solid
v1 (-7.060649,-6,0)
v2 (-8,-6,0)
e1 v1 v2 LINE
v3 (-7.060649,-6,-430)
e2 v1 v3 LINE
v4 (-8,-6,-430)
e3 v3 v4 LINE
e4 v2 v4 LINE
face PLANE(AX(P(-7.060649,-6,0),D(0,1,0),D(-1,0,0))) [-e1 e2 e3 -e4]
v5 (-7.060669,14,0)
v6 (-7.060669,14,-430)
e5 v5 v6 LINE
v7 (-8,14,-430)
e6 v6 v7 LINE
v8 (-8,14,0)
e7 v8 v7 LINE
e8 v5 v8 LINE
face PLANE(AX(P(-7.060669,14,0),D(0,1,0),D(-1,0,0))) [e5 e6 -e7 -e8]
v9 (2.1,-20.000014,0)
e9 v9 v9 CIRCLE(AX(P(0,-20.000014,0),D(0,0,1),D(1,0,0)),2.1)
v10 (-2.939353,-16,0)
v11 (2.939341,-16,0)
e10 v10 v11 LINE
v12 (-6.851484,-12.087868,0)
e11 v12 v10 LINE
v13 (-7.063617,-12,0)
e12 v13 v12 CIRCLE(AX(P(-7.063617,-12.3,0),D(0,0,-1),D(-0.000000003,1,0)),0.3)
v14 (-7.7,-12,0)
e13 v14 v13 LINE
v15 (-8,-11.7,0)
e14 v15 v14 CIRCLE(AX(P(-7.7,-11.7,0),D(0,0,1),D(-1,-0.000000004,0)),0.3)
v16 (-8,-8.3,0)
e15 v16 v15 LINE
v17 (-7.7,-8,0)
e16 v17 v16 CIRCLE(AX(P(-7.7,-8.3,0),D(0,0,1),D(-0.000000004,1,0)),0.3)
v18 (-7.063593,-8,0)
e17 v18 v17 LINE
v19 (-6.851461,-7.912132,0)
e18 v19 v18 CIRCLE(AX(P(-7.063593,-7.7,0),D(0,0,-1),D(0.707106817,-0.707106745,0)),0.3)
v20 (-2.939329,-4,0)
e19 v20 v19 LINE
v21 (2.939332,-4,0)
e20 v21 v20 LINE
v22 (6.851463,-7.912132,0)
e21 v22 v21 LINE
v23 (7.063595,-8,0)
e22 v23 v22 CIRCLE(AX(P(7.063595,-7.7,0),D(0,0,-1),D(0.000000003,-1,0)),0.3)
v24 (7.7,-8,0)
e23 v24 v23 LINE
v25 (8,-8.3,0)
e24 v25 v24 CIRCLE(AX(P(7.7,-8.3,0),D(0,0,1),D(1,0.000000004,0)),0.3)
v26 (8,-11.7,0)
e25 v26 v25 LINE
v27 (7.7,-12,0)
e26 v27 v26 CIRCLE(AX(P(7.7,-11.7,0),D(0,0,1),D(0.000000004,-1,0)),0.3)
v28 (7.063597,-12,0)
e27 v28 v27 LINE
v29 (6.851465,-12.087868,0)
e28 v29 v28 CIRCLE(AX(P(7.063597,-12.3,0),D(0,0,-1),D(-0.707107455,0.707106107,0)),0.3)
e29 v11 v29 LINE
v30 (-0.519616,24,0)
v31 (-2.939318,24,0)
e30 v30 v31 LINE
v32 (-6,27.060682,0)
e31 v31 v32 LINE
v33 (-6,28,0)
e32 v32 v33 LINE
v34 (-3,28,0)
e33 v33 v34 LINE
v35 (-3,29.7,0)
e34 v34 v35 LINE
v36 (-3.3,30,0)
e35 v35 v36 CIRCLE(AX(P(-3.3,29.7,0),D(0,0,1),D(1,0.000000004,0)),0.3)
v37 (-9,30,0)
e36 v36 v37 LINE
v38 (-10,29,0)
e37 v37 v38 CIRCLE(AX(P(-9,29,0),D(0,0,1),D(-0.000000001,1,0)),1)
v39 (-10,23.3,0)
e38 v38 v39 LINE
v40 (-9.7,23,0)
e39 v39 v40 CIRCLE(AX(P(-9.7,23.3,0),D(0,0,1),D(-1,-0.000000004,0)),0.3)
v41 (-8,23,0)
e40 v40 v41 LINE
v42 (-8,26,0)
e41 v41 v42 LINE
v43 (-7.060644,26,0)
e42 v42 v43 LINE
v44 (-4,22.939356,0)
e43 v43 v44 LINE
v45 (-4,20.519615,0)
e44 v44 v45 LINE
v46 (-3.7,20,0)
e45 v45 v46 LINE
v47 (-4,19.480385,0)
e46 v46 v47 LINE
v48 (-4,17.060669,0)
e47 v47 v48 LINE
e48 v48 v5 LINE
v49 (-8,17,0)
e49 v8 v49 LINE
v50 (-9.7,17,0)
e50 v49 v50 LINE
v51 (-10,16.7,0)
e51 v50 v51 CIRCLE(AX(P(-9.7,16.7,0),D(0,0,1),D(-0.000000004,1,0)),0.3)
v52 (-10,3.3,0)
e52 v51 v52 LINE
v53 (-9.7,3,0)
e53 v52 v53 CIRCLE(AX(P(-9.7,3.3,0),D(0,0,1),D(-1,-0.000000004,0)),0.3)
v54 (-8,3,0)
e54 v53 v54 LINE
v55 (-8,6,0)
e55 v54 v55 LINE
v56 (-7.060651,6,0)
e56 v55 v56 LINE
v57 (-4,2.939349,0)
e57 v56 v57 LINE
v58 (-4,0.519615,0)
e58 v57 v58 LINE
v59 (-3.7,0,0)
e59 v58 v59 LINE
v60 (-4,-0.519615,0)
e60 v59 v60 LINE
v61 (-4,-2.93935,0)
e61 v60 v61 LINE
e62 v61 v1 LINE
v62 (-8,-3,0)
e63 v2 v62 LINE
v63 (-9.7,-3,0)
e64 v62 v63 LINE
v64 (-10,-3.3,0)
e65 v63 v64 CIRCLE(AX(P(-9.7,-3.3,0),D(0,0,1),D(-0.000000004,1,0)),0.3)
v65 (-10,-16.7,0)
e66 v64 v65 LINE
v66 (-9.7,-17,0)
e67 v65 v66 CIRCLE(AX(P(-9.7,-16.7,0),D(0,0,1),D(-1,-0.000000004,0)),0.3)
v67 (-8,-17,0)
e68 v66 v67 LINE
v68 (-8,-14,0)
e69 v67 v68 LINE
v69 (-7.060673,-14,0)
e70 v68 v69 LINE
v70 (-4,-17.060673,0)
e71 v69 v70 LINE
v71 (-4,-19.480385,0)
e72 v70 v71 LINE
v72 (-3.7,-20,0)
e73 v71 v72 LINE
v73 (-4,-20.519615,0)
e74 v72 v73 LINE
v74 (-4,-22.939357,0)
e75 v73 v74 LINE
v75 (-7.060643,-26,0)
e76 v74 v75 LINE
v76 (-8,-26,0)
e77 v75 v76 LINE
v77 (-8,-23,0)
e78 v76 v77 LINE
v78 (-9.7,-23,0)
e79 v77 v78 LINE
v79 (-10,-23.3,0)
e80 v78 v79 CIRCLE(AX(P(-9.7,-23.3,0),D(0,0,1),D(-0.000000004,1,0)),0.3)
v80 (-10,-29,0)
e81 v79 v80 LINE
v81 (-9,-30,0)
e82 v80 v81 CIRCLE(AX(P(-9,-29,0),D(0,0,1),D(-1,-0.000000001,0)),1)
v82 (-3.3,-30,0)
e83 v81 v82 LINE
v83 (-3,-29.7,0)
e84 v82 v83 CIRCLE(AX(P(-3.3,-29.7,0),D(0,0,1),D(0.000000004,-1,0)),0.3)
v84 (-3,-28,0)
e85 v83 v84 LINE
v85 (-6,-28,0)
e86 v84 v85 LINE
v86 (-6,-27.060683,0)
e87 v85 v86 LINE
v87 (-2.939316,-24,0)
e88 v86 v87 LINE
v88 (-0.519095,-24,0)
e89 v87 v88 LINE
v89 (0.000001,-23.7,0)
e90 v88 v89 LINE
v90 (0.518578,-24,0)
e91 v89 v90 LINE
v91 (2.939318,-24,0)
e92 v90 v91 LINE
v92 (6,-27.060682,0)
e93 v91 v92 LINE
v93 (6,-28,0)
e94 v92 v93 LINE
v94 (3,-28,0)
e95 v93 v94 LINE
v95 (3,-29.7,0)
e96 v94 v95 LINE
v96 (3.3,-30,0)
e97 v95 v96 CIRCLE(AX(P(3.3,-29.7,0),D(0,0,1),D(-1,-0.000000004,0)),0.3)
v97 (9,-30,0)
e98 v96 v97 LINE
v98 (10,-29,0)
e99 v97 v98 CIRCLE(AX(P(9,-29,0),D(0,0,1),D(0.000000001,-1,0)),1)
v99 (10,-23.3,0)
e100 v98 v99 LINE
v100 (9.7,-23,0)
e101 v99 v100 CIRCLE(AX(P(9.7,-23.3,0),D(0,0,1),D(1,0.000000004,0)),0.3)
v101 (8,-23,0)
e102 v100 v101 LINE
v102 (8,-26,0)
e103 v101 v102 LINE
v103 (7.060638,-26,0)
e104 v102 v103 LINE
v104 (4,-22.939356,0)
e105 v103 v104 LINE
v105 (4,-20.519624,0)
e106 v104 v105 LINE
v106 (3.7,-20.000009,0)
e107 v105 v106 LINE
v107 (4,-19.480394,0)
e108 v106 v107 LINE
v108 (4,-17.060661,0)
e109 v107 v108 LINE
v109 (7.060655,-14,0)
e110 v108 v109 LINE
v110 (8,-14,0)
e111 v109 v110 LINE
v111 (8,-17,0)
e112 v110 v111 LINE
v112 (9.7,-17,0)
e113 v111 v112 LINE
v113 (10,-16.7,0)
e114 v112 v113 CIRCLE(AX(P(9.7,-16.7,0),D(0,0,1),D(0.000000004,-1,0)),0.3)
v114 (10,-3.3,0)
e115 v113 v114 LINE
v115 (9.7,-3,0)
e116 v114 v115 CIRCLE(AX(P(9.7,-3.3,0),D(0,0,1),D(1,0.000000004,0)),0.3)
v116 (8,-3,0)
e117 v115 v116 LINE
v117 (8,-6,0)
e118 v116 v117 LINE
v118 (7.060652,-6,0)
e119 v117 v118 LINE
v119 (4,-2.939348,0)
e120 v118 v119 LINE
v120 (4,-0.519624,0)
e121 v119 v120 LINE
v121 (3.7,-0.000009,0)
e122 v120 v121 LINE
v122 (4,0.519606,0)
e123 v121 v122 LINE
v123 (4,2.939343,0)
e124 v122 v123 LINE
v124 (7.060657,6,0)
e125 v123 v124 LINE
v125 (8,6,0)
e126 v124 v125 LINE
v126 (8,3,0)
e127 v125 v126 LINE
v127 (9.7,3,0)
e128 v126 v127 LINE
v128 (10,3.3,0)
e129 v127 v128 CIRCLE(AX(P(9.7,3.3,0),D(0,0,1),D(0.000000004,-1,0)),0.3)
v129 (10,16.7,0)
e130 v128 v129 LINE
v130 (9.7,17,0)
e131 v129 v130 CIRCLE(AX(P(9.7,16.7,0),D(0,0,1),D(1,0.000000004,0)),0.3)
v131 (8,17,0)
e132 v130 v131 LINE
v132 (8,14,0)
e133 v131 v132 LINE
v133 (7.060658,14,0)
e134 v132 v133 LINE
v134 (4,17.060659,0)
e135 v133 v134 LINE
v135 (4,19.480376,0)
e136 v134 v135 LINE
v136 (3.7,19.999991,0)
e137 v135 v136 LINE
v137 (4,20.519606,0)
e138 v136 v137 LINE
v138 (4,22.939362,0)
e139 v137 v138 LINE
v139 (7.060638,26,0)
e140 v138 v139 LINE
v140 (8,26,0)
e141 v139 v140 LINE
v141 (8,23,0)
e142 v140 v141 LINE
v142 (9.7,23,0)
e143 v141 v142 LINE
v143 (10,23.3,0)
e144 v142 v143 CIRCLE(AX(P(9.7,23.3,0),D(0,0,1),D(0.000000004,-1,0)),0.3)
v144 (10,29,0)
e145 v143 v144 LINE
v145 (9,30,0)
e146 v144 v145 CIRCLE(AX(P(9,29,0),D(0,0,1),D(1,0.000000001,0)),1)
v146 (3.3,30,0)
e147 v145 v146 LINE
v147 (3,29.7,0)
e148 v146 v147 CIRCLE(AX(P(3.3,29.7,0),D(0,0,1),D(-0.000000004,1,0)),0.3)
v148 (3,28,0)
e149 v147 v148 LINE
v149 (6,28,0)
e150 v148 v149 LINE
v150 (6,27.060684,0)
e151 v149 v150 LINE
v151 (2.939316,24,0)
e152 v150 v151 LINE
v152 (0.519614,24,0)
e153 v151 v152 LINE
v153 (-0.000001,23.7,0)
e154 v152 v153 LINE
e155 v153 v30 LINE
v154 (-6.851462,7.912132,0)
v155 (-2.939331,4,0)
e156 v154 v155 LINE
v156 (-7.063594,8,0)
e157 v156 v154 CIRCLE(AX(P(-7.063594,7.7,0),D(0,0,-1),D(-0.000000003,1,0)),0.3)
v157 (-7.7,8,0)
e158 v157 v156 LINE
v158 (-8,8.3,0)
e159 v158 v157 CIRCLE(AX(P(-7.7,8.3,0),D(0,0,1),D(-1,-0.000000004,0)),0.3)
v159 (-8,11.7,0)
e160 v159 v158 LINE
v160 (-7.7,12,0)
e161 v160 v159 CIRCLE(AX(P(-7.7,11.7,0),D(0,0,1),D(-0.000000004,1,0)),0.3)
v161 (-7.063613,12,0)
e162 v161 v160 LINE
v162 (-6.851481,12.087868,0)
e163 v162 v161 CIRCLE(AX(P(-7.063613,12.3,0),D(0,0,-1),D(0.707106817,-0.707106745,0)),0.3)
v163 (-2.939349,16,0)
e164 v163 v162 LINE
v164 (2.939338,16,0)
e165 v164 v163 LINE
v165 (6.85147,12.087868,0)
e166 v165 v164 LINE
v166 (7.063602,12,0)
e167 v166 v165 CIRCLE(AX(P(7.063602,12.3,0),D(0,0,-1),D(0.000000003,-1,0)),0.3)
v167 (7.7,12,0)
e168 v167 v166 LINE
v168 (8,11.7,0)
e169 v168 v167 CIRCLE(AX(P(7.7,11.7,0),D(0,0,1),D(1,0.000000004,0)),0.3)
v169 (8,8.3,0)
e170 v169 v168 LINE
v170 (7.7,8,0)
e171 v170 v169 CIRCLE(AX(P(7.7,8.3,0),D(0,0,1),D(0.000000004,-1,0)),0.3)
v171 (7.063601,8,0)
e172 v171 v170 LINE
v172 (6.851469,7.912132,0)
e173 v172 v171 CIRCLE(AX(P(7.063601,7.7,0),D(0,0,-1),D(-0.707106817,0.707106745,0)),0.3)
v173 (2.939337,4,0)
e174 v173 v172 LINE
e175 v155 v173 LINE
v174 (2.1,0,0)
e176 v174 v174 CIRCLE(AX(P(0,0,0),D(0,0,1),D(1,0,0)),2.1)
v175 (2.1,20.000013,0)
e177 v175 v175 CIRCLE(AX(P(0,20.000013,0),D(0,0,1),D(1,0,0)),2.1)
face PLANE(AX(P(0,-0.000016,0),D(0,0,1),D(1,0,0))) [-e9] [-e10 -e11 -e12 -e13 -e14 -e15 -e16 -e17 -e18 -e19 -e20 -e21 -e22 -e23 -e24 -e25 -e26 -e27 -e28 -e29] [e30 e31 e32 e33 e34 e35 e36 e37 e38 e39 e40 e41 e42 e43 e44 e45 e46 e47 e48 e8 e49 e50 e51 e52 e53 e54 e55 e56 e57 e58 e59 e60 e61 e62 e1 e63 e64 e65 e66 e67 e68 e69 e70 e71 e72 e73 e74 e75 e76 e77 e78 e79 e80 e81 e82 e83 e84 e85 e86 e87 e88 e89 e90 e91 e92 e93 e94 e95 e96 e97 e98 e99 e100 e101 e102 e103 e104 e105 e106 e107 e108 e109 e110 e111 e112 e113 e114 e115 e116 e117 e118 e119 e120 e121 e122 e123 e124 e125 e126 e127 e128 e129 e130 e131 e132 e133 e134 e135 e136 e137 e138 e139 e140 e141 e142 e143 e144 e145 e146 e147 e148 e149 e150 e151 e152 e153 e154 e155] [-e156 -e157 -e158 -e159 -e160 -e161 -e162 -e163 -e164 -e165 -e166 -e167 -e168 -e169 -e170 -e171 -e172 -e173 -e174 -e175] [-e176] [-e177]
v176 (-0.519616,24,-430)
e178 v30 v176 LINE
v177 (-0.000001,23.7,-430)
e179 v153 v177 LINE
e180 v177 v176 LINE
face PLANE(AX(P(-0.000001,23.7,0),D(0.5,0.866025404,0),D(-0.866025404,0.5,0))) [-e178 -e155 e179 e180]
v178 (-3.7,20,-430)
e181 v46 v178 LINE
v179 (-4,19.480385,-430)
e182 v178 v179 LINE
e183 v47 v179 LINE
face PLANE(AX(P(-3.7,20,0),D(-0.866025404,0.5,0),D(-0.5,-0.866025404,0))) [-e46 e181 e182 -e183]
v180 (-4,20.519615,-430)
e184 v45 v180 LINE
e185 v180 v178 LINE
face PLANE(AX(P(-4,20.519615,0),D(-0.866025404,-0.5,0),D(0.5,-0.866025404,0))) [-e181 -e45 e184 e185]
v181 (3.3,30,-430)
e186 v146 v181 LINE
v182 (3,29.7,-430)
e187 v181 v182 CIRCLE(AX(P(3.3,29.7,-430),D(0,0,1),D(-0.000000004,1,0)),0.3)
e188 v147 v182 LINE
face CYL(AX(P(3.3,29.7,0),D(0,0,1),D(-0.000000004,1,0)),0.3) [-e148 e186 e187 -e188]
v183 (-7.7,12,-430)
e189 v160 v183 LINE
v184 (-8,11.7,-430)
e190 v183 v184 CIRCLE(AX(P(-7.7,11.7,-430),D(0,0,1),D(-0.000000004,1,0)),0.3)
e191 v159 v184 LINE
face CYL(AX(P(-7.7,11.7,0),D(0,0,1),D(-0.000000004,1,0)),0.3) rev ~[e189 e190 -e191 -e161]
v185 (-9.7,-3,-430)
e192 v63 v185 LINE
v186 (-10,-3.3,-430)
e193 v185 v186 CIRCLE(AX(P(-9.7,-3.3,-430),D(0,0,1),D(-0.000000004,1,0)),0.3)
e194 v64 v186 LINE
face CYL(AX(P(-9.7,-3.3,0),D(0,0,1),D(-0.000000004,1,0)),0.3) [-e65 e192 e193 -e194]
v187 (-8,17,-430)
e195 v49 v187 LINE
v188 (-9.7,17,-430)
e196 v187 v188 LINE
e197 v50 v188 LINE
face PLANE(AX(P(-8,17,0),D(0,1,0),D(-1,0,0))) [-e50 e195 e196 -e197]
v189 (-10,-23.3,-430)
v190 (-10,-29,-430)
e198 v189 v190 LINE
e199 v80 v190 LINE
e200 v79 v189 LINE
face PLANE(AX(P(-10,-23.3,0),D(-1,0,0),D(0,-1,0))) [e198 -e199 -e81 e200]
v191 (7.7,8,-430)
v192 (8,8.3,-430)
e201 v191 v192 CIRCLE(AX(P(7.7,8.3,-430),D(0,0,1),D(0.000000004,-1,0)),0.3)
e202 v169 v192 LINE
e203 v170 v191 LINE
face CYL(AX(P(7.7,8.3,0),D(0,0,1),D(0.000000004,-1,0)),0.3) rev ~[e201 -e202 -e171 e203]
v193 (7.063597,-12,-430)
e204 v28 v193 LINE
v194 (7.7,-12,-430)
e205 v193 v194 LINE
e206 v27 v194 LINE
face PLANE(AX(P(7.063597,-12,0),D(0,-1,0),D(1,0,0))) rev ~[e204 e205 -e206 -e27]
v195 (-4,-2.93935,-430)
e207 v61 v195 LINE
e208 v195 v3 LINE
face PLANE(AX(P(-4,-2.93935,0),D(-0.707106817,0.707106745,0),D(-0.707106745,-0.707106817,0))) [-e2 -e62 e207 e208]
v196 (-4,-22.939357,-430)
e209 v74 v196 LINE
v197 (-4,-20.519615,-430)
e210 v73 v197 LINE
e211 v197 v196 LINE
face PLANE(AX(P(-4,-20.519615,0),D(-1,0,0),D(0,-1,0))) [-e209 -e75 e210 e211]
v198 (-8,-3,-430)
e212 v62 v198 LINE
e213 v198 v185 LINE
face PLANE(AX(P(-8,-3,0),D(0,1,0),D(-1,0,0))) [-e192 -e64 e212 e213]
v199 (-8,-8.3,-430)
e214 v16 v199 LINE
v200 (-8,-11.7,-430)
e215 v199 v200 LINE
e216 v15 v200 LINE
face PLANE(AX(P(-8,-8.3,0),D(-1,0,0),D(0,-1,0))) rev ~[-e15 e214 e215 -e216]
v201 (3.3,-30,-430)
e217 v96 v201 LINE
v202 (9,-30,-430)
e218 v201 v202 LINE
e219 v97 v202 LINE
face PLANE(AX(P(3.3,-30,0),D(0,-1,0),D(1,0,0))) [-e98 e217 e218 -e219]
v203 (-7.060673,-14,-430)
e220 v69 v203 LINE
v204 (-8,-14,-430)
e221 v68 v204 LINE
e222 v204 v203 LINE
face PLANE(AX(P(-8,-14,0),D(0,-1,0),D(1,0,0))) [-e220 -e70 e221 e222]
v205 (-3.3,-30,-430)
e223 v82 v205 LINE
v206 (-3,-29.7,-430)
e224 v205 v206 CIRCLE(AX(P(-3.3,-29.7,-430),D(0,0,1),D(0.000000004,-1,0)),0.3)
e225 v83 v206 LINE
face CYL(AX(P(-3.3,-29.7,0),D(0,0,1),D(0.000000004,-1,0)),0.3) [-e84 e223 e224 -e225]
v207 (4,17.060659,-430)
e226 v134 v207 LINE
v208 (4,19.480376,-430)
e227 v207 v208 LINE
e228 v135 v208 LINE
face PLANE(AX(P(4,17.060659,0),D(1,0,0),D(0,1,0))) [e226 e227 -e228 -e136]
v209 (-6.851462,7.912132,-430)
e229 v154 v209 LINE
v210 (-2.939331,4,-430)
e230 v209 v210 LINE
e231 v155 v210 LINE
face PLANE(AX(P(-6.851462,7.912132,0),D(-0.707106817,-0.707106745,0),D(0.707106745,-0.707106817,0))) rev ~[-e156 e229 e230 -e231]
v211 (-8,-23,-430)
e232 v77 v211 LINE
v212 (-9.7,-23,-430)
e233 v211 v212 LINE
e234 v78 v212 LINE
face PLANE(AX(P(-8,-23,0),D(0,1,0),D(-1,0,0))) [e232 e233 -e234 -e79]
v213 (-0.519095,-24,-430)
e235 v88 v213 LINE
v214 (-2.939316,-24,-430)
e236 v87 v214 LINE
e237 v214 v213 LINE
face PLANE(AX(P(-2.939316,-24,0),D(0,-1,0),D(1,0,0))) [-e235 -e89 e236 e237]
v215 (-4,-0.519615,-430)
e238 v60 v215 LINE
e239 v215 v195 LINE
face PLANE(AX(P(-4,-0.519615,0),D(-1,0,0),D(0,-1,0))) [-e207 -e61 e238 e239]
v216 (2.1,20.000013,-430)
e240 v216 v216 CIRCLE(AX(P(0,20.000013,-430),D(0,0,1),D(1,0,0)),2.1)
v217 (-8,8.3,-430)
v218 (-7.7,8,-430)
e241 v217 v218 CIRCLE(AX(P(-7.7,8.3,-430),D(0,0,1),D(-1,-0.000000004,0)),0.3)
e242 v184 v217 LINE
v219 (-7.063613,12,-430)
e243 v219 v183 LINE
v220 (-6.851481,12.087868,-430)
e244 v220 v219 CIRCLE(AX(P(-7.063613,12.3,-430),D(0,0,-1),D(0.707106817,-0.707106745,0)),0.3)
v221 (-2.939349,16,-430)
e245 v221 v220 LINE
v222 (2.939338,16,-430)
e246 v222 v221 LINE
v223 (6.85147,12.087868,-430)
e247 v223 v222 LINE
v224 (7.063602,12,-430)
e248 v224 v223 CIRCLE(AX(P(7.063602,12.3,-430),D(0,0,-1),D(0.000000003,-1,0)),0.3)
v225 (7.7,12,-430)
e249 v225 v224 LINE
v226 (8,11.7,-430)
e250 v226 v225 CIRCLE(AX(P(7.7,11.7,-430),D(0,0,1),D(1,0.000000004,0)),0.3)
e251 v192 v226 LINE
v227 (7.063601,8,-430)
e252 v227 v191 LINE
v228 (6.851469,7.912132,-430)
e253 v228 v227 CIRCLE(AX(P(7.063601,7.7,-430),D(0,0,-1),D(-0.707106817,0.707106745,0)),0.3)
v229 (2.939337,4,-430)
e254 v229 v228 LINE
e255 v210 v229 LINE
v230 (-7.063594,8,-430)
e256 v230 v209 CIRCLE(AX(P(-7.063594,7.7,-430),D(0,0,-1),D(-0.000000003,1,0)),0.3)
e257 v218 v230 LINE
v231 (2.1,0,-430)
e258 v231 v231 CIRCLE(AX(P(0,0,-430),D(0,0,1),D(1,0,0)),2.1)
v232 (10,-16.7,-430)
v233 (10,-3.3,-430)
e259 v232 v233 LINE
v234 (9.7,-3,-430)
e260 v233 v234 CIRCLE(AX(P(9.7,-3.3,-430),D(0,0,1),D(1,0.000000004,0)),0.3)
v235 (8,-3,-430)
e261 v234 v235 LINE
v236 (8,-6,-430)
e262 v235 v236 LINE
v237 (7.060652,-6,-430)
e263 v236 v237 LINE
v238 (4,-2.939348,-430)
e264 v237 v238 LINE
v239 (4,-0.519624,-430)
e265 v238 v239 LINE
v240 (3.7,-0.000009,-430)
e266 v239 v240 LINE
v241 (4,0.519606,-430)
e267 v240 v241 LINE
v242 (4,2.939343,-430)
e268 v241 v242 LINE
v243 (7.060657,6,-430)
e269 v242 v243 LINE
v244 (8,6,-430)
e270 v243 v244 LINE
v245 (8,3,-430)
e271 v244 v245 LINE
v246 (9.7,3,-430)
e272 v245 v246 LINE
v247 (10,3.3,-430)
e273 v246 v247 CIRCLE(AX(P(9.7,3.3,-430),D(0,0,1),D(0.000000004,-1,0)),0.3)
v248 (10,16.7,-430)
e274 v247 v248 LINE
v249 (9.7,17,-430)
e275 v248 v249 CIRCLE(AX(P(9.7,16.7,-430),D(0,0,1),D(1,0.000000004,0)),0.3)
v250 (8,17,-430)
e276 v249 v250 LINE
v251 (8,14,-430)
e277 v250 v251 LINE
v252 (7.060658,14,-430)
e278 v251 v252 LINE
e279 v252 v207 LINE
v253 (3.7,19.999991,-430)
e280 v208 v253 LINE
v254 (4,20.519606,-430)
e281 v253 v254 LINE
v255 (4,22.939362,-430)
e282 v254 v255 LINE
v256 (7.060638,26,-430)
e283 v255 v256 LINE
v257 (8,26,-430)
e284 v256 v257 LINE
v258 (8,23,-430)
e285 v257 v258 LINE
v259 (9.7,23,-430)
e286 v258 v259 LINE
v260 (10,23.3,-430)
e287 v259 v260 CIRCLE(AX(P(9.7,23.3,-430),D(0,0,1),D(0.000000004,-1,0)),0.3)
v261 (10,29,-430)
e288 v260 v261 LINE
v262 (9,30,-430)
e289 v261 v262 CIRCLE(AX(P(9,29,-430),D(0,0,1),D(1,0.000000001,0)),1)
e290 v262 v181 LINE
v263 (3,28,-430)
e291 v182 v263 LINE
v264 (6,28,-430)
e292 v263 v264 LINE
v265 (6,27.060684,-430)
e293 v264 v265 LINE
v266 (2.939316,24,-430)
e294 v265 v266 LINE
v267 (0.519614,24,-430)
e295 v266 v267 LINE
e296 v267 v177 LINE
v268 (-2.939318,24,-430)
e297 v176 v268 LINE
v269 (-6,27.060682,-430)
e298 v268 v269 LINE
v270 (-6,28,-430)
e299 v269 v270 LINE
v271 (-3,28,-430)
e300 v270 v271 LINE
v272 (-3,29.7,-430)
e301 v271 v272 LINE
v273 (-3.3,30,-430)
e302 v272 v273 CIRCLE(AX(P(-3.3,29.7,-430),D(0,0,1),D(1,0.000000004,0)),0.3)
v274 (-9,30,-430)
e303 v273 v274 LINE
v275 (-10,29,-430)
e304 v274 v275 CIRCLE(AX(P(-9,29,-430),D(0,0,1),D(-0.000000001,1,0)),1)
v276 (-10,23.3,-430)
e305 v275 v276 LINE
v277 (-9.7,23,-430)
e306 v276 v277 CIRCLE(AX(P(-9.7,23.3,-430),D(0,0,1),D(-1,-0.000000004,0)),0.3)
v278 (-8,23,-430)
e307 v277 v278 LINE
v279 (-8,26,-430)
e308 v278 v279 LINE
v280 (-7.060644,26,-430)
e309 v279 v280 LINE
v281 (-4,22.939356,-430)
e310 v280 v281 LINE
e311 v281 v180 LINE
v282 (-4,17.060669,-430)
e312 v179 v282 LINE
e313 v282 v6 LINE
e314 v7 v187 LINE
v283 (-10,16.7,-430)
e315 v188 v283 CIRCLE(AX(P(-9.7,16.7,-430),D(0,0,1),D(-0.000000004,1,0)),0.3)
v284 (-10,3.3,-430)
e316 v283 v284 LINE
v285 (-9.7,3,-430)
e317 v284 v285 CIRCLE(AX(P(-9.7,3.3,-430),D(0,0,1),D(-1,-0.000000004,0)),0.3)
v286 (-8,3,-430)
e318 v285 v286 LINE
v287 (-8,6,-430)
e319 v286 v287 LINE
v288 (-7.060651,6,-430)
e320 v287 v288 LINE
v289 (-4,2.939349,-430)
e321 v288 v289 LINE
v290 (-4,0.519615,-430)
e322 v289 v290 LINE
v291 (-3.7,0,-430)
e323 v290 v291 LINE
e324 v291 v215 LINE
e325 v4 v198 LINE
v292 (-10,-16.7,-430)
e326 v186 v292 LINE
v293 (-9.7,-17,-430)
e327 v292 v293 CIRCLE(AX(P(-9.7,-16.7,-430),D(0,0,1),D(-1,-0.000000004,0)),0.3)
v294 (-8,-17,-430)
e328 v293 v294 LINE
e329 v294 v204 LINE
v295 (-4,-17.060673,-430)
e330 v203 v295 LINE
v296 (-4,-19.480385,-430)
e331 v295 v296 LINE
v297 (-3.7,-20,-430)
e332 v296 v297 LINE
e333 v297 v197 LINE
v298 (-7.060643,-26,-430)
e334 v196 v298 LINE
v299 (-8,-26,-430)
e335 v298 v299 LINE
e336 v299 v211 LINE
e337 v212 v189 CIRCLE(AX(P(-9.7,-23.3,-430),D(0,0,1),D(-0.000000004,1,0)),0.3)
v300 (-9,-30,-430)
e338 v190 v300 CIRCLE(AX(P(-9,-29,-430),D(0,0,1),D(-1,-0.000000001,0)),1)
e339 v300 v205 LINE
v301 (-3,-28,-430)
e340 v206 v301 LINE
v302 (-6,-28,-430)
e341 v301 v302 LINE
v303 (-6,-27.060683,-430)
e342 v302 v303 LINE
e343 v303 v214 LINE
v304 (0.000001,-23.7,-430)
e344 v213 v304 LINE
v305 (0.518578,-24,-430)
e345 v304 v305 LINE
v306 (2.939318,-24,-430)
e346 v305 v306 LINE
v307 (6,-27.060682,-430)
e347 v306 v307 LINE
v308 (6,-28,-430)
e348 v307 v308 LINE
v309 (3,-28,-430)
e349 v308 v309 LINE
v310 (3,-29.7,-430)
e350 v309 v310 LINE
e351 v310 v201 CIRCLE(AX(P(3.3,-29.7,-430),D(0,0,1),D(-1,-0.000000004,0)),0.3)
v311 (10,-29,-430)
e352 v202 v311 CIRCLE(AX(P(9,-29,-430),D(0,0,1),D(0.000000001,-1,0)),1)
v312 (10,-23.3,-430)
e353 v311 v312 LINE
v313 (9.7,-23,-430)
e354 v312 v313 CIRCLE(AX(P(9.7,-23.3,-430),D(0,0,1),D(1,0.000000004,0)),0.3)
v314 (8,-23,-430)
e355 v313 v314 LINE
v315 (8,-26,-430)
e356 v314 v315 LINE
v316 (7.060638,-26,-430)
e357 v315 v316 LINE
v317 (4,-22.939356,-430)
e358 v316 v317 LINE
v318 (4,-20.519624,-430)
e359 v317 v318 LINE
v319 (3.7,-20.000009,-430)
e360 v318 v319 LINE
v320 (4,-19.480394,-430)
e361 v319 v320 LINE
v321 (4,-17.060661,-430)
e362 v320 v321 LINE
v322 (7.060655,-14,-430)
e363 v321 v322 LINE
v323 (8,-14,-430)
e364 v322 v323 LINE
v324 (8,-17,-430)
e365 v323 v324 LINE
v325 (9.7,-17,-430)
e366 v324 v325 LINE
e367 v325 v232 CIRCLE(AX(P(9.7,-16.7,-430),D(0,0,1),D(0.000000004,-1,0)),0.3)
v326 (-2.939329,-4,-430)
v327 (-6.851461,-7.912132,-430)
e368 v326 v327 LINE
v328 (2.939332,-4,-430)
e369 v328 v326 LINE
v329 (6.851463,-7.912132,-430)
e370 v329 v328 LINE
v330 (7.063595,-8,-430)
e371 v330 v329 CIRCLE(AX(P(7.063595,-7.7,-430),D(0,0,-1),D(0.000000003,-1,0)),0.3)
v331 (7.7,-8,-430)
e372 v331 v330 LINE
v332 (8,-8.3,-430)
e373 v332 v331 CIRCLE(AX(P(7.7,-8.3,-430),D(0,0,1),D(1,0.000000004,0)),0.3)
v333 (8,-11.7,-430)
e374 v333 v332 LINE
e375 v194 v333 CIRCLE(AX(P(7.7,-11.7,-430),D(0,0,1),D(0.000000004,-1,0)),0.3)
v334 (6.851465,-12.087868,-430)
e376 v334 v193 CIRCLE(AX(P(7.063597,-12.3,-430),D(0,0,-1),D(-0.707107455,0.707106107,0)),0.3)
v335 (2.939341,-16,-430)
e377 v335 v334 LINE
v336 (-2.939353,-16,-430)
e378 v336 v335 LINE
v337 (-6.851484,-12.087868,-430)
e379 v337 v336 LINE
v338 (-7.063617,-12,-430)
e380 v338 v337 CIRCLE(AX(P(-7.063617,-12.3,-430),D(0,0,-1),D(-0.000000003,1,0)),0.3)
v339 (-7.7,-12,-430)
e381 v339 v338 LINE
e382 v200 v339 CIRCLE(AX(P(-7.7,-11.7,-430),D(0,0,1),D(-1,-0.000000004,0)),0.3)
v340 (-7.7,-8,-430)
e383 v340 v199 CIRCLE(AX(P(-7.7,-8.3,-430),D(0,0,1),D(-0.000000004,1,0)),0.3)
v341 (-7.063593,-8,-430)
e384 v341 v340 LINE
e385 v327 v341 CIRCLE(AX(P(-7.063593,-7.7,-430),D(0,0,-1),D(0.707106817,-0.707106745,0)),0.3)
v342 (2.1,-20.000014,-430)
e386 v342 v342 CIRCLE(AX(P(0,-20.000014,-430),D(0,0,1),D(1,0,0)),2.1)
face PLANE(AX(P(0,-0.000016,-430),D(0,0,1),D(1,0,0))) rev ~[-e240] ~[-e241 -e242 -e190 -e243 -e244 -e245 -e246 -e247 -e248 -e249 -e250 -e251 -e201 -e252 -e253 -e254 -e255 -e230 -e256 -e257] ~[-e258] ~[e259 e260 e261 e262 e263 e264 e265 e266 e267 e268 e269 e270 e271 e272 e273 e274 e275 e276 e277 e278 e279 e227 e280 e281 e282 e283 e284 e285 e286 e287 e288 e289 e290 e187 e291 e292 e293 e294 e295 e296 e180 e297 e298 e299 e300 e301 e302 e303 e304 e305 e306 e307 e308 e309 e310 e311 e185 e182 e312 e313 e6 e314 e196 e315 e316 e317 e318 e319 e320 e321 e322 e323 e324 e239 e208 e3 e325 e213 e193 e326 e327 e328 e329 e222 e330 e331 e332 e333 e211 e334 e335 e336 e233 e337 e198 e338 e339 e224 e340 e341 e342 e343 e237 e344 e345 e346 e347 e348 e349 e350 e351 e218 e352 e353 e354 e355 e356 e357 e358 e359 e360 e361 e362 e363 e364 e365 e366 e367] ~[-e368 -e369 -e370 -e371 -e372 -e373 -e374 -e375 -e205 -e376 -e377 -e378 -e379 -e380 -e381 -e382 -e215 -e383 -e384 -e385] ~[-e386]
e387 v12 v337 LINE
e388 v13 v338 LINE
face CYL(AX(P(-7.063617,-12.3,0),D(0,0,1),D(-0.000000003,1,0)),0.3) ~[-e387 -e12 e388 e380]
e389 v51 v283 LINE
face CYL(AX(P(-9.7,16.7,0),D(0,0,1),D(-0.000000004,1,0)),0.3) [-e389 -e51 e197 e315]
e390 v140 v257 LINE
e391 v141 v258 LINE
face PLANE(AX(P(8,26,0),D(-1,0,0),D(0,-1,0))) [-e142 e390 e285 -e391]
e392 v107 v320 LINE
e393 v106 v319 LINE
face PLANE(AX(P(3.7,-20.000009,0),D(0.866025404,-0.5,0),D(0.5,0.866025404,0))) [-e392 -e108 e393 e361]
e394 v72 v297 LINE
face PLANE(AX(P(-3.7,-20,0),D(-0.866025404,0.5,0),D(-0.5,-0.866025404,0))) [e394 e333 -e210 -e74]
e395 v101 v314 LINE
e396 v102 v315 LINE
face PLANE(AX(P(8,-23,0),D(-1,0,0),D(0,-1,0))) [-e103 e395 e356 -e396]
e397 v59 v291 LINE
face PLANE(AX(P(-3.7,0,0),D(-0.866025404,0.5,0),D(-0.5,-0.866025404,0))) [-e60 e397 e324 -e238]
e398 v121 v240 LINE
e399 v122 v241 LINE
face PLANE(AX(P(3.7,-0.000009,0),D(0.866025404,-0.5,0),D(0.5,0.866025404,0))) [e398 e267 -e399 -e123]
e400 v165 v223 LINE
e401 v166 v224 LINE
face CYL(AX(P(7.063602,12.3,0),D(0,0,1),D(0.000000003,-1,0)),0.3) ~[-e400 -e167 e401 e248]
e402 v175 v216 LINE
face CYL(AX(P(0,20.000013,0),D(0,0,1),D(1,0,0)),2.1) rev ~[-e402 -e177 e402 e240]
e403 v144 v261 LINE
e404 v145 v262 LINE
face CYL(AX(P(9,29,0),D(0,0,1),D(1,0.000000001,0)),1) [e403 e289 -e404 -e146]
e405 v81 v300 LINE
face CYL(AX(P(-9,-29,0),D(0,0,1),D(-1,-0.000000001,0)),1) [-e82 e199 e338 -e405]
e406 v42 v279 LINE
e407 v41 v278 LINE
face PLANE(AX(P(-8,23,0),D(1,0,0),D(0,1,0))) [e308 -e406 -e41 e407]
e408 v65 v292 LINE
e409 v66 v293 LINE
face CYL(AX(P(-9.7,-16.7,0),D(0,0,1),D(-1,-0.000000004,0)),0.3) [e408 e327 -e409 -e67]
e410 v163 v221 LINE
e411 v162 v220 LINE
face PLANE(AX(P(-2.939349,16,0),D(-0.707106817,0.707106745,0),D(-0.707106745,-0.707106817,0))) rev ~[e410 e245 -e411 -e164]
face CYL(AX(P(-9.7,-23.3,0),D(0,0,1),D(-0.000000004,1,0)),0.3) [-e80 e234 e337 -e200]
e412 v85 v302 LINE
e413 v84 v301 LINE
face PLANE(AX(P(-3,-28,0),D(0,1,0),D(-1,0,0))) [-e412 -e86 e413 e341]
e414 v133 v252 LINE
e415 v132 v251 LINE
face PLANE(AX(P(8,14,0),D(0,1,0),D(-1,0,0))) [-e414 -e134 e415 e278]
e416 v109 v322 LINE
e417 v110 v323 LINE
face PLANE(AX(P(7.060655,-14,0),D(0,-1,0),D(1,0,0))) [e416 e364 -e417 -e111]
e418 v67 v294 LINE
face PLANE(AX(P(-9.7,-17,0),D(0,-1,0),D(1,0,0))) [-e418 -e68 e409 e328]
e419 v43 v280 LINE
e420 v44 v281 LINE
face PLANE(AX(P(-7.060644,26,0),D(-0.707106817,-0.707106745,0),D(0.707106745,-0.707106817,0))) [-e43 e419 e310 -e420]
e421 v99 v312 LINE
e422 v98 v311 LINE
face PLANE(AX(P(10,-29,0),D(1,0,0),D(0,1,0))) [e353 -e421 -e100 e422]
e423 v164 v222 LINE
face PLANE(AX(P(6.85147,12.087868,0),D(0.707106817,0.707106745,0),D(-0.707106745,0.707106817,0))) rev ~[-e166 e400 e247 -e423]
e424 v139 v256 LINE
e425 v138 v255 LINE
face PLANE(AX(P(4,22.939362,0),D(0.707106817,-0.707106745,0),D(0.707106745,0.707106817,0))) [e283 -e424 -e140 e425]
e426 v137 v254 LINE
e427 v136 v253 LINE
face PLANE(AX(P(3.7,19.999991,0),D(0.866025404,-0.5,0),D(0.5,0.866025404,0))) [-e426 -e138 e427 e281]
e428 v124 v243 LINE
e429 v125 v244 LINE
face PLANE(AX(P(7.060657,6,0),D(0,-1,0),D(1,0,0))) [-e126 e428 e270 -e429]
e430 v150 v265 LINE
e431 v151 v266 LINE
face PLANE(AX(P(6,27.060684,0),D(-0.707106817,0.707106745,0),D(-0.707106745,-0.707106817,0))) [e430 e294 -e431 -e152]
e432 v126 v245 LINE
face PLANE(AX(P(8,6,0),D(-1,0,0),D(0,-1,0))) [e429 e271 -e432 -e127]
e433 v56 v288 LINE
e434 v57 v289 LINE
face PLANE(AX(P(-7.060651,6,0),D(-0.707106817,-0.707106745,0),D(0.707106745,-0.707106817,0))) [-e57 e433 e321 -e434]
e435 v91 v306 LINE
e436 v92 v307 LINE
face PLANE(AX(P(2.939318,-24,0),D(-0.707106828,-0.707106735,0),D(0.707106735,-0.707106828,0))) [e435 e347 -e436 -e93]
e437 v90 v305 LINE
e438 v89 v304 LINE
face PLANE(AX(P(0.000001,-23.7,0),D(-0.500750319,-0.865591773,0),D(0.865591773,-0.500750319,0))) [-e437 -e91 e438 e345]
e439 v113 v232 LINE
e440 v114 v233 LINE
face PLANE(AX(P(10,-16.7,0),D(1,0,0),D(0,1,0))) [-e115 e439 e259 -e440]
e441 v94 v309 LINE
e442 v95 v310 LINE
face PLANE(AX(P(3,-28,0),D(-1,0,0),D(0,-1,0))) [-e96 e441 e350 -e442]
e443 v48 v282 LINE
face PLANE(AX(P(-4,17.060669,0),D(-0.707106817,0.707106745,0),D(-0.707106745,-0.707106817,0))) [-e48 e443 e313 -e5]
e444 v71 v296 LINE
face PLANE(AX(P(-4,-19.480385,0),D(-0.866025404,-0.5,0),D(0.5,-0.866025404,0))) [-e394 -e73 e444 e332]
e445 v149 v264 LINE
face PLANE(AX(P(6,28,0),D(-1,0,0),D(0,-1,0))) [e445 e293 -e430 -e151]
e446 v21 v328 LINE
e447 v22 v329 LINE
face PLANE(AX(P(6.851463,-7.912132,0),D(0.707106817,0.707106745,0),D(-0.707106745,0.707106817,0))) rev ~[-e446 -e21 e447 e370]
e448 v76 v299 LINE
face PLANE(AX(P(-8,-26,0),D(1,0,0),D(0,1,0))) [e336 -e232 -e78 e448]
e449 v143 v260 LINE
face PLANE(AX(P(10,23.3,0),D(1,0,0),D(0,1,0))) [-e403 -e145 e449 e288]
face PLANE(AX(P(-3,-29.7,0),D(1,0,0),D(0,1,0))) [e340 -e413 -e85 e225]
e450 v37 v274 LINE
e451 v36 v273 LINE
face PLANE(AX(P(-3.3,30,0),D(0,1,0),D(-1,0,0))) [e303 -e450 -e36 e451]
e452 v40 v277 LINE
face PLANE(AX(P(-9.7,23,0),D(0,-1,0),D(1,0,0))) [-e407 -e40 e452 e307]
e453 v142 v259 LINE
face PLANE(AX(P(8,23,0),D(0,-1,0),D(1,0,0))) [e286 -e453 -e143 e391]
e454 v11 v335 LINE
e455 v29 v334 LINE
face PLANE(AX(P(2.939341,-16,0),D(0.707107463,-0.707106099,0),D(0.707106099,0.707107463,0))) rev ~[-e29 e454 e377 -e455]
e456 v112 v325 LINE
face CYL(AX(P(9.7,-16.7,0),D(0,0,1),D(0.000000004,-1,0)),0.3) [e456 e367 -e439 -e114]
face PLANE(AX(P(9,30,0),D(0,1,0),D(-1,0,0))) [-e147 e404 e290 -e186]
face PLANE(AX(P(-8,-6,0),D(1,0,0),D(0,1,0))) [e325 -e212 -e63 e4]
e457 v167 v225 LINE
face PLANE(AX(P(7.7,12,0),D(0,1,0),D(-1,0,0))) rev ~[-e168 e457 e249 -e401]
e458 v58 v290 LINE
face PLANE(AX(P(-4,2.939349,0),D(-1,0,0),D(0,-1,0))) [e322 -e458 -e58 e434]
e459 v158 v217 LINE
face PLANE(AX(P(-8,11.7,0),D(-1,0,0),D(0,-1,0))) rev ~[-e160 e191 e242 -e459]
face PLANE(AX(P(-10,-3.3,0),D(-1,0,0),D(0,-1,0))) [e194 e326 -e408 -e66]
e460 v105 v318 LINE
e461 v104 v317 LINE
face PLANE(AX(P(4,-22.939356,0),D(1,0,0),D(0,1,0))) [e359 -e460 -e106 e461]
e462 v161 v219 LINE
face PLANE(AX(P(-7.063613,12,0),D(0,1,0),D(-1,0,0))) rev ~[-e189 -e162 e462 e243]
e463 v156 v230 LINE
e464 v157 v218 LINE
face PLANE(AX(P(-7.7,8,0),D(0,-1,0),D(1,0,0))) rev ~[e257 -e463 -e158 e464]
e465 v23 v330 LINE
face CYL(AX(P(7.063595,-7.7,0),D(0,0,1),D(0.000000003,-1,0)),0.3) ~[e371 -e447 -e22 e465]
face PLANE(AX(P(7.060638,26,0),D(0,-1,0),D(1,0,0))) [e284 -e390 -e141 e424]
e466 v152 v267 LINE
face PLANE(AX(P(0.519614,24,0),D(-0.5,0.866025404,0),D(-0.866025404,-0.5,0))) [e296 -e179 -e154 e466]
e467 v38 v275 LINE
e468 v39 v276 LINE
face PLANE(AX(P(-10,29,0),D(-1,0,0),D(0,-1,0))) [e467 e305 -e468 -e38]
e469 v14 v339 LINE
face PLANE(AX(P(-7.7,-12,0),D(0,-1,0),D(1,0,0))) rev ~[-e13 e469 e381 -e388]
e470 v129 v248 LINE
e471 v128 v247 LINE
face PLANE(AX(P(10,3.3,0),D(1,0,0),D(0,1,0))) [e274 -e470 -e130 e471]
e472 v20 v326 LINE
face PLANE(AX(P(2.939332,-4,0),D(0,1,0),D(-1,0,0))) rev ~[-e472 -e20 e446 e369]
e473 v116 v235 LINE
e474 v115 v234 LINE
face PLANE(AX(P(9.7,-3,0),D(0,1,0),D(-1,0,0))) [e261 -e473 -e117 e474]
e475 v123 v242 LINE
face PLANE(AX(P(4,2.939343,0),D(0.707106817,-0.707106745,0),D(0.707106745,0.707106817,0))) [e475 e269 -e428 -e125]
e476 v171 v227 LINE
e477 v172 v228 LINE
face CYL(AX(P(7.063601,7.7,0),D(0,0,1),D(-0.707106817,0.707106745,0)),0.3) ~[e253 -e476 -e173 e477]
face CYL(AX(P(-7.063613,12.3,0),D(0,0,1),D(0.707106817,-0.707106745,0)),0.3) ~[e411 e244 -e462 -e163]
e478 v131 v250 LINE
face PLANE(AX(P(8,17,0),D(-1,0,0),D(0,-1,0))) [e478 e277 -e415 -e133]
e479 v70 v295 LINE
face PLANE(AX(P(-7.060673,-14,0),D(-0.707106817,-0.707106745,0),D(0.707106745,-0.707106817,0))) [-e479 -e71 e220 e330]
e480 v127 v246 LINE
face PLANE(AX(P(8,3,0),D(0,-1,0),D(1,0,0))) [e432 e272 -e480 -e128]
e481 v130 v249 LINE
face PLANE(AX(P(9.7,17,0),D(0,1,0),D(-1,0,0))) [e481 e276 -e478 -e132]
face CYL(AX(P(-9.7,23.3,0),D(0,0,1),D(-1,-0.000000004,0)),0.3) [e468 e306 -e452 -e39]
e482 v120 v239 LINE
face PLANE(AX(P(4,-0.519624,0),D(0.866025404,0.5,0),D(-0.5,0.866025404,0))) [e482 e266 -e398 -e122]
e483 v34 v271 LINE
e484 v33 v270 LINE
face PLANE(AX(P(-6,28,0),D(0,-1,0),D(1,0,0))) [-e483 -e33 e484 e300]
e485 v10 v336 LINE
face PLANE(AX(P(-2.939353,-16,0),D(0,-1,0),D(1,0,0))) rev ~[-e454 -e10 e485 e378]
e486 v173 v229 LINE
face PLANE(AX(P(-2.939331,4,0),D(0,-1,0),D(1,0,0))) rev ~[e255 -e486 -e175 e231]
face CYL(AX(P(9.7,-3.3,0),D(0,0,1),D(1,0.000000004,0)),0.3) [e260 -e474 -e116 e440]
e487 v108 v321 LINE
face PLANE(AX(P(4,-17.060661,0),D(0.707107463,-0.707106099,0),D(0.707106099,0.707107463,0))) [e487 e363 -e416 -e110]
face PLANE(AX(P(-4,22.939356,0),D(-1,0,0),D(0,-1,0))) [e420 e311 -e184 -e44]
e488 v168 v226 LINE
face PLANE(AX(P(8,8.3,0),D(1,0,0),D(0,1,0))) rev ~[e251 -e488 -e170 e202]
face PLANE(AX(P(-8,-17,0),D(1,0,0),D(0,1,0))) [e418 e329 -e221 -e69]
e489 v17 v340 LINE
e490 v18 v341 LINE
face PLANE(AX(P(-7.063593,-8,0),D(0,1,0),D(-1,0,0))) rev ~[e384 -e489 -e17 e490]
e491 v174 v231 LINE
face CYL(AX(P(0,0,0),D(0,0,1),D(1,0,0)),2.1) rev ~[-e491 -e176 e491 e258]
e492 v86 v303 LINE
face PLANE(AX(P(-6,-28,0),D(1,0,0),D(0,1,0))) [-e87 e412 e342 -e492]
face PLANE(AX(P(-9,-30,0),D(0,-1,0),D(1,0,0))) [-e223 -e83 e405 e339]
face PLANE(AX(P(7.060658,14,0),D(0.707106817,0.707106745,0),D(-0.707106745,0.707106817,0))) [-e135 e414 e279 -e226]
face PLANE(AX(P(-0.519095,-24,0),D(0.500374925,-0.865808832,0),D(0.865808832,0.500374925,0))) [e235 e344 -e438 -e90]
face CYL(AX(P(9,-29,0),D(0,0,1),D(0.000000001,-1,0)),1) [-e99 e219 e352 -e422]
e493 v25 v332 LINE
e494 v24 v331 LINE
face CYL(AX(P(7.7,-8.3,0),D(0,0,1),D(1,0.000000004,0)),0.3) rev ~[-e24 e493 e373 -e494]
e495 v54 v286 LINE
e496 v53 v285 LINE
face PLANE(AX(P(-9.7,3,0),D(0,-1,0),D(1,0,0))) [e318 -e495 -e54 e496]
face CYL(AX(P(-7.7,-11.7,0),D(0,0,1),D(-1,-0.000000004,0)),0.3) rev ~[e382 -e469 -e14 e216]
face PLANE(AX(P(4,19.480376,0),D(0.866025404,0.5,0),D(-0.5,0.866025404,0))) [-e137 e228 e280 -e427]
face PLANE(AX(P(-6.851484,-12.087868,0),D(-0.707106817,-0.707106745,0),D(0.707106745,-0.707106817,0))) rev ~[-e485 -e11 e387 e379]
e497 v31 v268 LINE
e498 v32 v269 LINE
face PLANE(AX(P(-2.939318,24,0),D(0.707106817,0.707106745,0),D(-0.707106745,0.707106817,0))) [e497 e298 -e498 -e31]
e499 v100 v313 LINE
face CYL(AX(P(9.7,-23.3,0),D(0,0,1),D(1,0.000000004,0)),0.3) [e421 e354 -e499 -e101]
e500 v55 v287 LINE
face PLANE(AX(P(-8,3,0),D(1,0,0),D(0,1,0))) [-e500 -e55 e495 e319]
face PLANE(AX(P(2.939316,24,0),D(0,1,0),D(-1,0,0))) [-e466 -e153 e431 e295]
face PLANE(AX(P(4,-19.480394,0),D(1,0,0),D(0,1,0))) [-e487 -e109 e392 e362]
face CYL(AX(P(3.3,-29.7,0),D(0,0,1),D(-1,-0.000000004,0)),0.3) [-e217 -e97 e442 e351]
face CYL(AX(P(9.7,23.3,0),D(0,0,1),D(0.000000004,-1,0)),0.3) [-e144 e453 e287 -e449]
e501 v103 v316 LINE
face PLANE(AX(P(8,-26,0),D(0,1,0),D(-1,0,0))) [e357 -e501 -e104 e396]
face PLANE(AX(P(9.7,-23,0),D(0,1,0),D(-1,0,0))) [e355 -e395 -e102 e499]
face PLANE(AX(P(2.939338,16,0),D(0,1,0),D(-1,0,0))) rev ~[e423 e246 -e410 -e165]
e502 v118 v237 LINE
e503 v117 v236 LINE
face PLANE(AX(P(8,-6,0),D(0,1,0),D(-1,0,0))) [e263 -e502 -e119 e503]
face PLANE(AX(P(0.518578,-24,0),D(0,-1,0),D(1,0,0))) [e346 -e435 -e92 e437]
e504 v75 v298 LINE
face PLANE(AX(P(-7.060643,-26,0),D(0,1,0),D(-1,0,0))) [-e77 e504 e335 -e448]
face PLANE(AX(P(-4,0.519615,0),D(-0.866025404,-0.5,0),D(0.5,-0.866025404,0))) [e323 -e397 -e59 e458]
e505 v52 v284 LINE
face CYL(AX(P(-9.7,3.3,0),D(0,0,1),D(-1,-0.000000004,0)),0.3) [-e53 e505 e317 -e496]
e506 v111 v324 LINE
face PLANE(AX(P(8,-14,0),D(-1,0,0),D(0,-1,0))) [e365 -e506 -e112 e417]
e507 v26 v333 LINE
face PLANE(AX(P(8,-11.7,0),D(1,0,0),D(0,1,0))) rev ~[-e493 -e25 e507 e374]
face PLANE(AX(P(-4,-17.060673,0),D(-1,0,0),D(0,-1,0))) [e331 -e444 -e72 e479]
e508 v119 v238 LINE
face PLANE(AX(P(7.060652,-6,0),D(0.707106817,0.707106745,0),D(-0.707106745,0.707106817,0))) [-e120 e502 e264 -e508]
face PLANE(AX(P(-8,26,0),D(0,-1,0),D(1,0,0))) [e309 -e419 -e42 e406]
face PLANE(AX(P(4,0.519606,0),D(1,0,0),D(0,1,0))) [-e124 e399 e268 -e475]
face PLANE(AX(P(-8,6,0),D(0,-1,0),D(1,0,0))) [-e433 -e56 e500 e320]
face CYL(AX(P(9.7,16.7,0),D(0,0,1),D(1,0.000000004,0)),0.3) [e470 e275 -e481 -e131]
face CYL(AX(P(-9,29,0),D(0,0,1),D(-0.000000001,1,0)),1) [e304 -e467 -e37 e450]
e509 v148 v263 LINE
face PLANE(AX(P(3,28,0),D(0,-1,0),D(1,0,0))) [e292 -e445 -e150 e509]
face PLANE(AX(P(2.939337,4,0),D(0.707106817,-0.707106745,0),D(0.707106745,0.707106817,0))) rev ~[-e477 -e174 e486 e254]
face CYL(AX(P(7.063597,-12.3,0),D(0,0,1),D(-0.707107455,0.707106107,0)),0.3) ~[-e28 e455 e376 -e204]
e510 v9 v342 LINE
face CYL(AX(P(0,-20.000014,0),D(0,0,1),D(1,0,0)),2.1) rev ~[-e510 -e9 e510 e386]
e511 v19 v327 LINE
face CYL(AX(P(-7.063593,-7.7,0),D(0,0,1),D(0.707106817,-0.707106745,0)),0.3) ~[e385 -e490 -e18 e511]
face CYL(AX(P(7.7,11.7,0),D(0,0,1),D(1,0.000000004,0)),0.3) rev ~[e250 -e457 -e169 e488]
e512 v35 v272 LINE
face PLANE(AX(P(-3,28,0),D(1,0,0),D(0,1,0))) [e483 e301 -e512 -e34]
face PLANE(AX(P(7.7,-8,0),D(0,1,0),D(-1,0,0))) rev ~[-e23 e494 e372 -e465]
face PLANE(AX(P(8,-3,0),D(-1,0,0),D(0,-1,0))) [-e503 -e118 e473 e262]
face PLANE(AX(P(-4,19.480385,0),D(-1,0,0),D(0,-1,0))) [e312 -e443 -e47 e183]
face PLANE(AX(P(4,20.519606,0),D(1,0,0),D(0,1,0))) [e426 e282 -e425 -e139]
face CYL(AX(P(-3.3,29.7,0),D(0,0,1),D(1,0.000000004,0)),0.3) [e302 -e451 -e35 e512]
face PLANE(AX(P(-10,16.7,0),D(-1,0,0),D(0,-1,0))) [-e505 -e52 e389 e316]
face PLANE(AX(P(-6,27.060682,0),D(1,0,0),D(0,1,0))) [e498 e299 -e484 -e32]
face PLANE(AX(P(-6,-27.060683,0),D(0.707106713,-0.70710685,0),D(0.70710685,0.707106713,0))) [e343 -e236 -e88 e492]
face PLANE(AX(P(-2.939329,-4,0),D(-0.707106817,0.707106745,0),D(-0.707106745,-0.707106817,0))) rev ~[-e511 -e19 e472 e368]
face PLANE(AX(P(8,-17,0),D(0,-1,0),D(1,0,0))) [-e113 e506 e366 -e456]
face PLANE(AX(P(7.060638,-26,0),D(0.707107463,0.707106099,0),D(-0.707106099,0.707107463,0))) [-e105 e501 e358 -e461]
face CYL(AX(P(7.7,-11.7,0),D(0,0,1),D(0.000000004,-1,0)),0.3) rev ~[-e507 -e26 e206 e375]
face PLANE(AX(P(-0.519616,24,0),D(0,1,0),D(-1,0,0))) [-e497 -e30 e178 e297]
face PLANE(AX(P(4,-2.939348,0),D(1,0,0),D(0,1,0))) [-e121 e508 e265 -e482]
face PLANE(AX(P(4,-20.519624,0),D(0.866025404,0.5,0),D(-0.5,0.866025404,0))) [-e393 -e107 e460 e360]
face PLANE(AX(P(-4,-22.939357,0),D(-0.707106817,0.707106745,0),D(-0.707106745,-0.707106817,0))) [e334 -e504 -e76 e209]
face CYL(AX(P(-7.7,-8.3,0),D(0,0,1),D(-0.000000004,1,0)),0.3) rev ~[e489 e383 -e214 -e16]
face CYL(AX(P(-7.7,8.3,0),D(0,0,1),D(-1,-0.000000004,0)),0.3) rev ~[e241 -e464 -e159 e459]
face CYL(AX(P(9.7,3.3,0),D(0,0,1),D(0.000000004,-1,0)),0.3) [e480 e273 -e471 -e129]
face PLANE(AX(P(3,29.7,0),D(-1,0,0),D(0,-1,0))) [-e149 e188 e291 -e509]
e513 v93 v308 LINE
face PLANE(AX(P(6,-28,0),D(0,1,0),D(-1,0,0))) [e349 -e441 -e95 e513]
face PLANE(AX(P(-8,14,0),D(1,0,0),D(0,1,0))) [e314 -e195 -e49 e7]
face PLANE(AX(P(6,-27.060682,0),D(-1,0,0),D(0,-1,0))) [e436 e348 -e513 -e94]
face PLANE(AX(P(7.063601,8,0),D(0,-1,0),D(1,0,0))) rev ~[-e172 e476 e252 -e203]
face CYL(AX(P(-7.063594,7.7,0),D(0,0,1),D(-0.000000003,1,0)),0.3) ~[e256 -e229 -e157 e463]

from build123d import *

# Parameters (mm, degrees)
SKETCH1_R           = 2.0999999
BOSS_EXTRUDE1_DEPTH = 430


with BuildPart() as part:
    # Sketch1 → Boss-Extrude1 (new body)
    with BuildSketch(Plane.XY):
        with BuildLine():
            Line((-10, 16.7), (-10, 3.3))
            ThreePointArc((-10, 3.3), (-9.912132034, 3.087867966), (-9.7, 3))
            Line((-9.7, 3), (-8, 3))
            Line((-8, 3), (-8, 6))
            Line((-8, 6), (-7.060650687, 6))
            Line((-7.060650687, 6), (-4, 2.939349))
            Line((-4, 2.939349), (-4, 0.519615242))
            Line((-4, 0.519615242), (-3.7, 0))
            Line((-3.7, 0), (-4, -0.519615242))
            Line((-4, -0.519615242), (-4, -2.9393502))
            Line((-4, -2.9393502), (-7.060649487, -6))
            Line((-7.060649487, -6), (-8, -6))
            Line((-8, -6), (-8, -3))
            Line((-8, -3), (-9.7, -3))
            ThreePointArc((-9.7, -3), (-9.912132034, -3.087867966), (-10, -3.3))
            Line((-10, -3.3), (-10, -16.7))
            ThreePointArc((-10, -16.7), (-9.912132034, -16.912132034), (-9.7, -17))
            Line((-9.7, -17), (-8, -17))
            Line((-8, -17), (-8, -14))
            Line((-8, -14), (-7.060672887, -14))
            Line((-7.060672887, -14), (-4, -17.0606732))
            Line((-4, -17.0606732), (-4, -19.480384758))
            Line((-4, -19.480384758), (-3.7, -20))
            Line((-3.7, -20), (-4, -20.519615242))
            Line((-4, -20.519615242), (-4, -22.93935665))
            Line((-4, -22.93935665), (-7.060643037, -26))
            Line((-7.060643037, -26), (-8, -26))
            Line((-8, -26), (-8, -23))
            Line((-8, -23), (-9.7, -23))
            ThreePointArc((-9.7, -23), (-9.912132034, -23.087867966), (-10, -23.3))
            Line((-10, -23.3), (-10, -29))
            ThreePointArc((-10, -29), (-9.707106781, -29.707106781), (-9, -30))
            Line((-9, -30), (-3.3, -30))
            ThreePointArc((-3.3, -30), (-3.087867966, -29.912132034), (-3, -29.7))
            Line((-3, -29.7), (-3, -28))
            Line((-3, -28), (-6, -28))
            Line((-6, -28), (-6, -27.060683408))
            Line((-6, -27.060683408), (-2.939316, -24))
            Line((-2.939316, -24), (-0.519095055, -24))
            Line((-0.519095055, -24), (1e-06, -23.7))
            Line((1e-06, -23.7), (0.518577868, -24))
            Line((0.518577868, -24), (2.939318, -24))
            Line((2.939318, -24), (6, -27.060682403))
            Line((6, -27.060682403), (6, -28))
            Line((6, -28), (3, -28))
            Line((3, -28), (3, -29.7))
            ThreePointArc((3, -29.7), (3.087867966, -29.912132034), (3.3, -30))
            Line((3.3, -30), (9, -30))
            ThreePointArc((9, -30), (9.707106781, -29.707106781), (10, -29))
            Line((10, -29), (10, -23.3))
            ThreePointArc((10, -23.3), (9.912132034, -23.087867966), (9.7, -23))
            Line((9.7, -23), (8, -23))
            Line((8, -23), (8, -26))
            Line((8, -26), (7.060637687, -26))
            Line((7.060637687, -26), (4, -22.93935641))
            Line((4, -22.93935641), (4, -20.519623992))
            Line((4, -20.519623992), (3.7, -20.00000875))
            Line((3.7, -20.00000875), (4, -19.480393508))
            Line((4, -19.480393508), (4, -17.06066109))
            Line((4, -17.06066109), (7.060655187, -14))
            Line((7.060655187, -14), (8, -14))
            Line((8, -14), (8, -17))
            Line((8, -17), (9.7, -17))
            ThreePointArc((9.7, -17), (9.912132034, -16.912132034), (10, -16.7))
            Line((10, -16.7), (10, -3.3))
            ThreePointArc((10, -3.3), (9.912132034, -3.087867966), (9.7, -3))
            Line((9.7, -3), (8, -3))
            Line((8, -3), (8, -6))
            Line((8, -6), (7.060651537, -6))
            Line((7.060651537, -6), (4, -2.93934815))
            Line((4, -2.93934815), (4, -0.519623992))
            Line((4, -0.519623992), (3.7, -8.75e-06))
            Line((3.7, -8.75e-06), (4, 0.519606492))
            Line((4, 0.519606492), (4, 2.9393426))
            Line((4, 2.9393426), (7.060657087, 6))
            Line((7.060657087, 6), (8, 6))
            Line((8, 6), (8, 3))
            Line((8, 3), (9.7, 3))
            ThreePointArc((9.7, 3), (9.912132034, 3.087867966), (10, 3.3))
            Line((10, 3.3), (10, 16.7))
            ThreePointArc((10, 16.7), (9.912132034, 16.912132034), (9.7, 17))
            Line((9.7, 17), (8, 17))
            Line((8, 17), (8, 14))
            Line((8, 14), (7.06065821, 14))
            Line((7.06065821, 14), (4, 17.060658523))
            Line((4, 17.060658523), (4, 19.480376008))
            Line((4, 19.480376008), (3.7, 19.99999125))
            Line((3.7, 19.99999125), (4, 20.519606492))
            Line((4, 20.519606492), (4, 22.939362173))
            Line((4, 22.939362173), (7.060637514, 26))
            Line((7.060637514, 26), (8, 26))
            Line((8, 26), (8, 23))
            Line((8, 23), (9.7, 23))
            ThreePointArc((9.7, 23), (9.912132034, 23.087867966), (10, 23.3))
            Line((10, 23.3), (10, 29))
            ThreePointArc((10, 29), (9.707106781, 29.707106781), (9, 30))
            Line((9, 30), (3.3, 30))
            ThreePointArc((3.3, 30), (3.087867966, 29.912132034), (3, 29.7))
            Line((3, 29.7), (3, 28))
            Line((3, 28), (6, 28))
            Line((6, 28), (6, 27.060684313))
            Line((6, 27.060684313), (2.939316, 24))
            Line((2.939316, 24), (0.519614242, 24))
            Line((0.519614242, 24), (-1e-06, 23.7))
            Line((-1e-06, 23.7), (-0.519616242, 24))
            Line((-0.519616242, 24), (-2.939318, 24))
            Line((-2.939318, 24), (-6, 27.060682313))
            Line((-6, 27.060682313), (-6, 28))
            Line((-6, 28), (-3, 28))
            Line((-3, 28), (-3, 29.7))
            ThreePointArc((-3, 29.7), (-3.087867966, 29.912132034), (-3.3, 30))
            Line((-3.3, 30), (-9, 30))
            ThreePointArc((-9, 30), (-9.707106781, 29.707106781), (-10, 29))
            Line((-10, 29), (-10, 23.3))
            ThreePointArc((-10, 23.3), (-9.912132034, 23.087867966), (-9.7, 23))
            Line((-9.7, 23), (-8, 23))
            Line((-8, 23), (-8, 26))
            Line((-8, 26), (-7.060644014, 26))
            Line((-7.060644014, 26), (-4, 22.939355673))
            Line((-4, 22.939355673), (-4, 20.519615242))
            Line((-4, 20.519615242), (-3.7, 20))
            Line((-3.7, 20), (-4, 19.480384758))
            Line((-4, 19.480384758), (-4, 17.060669373))
            Line((-4, 17.060669373), (-7.06066906, 14))
            Line((-7.06066906, 14), (-8, 14))
            Line((-8, 14), (-8, 17))
            Line((-8, 17), (-9.7, 17))
            ThreePointArc((-9.7, 17), (-9.912132034, 16.912132034), (-10, 16.7))
        make_face()
        with Locations((0, 20.000013123)):
            Circle(SKETCH1_R, mode=Mode.SUBTRACT)
        Circle(SKETCH1_R, mode=Mode.SUBTRACT)
        with Locations((0, -20.000013525)):
            Circle(SKETCH1_R, mode=Mode.SUBTRACT)
        with BuildLine():
            Line((-7.7, 8), (-7.063594325, 8))
            ThreePointArc((-7.063594325, 8), (-6.948789288, 7.977163857), (-6.85146228, 7.912132024))
            Line((-6.85146228, 7.912132024), (-2.939330656, 4))
            Line((-2.939330656, 4), (2.939337056, 4))
            Line((2.939337056, 4), (6.85146868, 7.912132024))
            ThreePointArc((6.85146868, 7.912132024), (6.948795688, 7.977163857), (7.063600725, 8))
            Line((7.063600725, 8), (7.7, 8))
            ThreePointArc((7.7, 8), (7.912132034, 8.087867966), (8, 8.3))
            Line((8, 8.3), (8, 11.7))
            ThreePointArc((8, 11.7), (7.912132034, 11.912132034), (7.7, 12))
            Line((7.7, 12), (7.063601848, 12))
            ThreePointArc((7.063601848, 12), (6.948796811, 12.022836143), (6.851469803, 12.087867976))
            Line((6.851469803, 12.087867976), (2.939338179, 16))
            Line((2.939338179, 16), (-2.939349029, 16))
            Line((-2.939349029, 16), (-6.851480653, 12.087867976))
            ThreePointArc((-6.851480653, 12.087867976), (-6.948807661, 12.022836143), (-7.063612698, 12))
            Line((-7.063612698, 12), (-7.7, 12))
            ThreePointArc((-7.7, 12), (-7.912132034, 11.912132034), (-8, 11.7))
            Line((-8, 11.7), (-8, 8.3))
            ThreePointArc((-8, 8.3), (-7.912132034, 8.087867966), (-7.7, 8))
        make_face(mode=Mode.SUBTRACT)
        with BuildLine():
            Line((-8, -8.3), (-8, -11.7))
            ThreePointArc((-8, -11.7), (-7.912132034, -11.912132034), (-7.7, -12))
            Line((-7.7, -12), (-7.063616525, -12))
            ThreePointArc((-7.063616525, -12), (-6.948811488, -12.022836143), (-6.85148448, -12.087867976))
            Line((-6.85148448, -12.087867976), (-2.939352856, -16))
            Line((-2.939352856, -16), (2.939340746, -16))
            Line((2.939340746, -16), (6.851465031, -12.08786817))
            ThreePointArc((6.851465031, -12.08786817), (6.948792107, -12.022836196), (7.06359727, -12))
            Line((7.06359727, -12), (7.7, -12))
            ThreePointArc((7.7, -12), (7.912132034, -11.912132034), (8, -11.7))
            Line((8, -11.7), (8, -8.3))
            ThreePointArc((8, -8.3), (7.912132034, -8.087867966), (7.7, -8))
            Line((7.7, -8), (7.063595175, -8))
            ThreePointArc((7.063595175, -8), (6.948790138, -7.977163857), (6.85146313, -7.912132024))
            Line((6.85146313, -7.912132024), (2.939331506, -4))
            Line((2.939331506, -4), (-2.939329456, -4))
            Line((-2.939329456, -4), (-6.85146108, -7.912132024))
            ThreePointArc((-6.85146108, -7.912132024), (-6.948788088, -7.977163857), (-7.063593125, -8))
            Line((-7.063593125, -8), (-7.7, -8))
            ThreePointArc((-7.7, -8), (-7.912132034, -8.087867966), (-8, -8.3))
        make_face(mode=Mode.SUBTRACT)
    extrude(amount=-BOSS_EXTRUDE1_DEPTH)


solid = part.part
